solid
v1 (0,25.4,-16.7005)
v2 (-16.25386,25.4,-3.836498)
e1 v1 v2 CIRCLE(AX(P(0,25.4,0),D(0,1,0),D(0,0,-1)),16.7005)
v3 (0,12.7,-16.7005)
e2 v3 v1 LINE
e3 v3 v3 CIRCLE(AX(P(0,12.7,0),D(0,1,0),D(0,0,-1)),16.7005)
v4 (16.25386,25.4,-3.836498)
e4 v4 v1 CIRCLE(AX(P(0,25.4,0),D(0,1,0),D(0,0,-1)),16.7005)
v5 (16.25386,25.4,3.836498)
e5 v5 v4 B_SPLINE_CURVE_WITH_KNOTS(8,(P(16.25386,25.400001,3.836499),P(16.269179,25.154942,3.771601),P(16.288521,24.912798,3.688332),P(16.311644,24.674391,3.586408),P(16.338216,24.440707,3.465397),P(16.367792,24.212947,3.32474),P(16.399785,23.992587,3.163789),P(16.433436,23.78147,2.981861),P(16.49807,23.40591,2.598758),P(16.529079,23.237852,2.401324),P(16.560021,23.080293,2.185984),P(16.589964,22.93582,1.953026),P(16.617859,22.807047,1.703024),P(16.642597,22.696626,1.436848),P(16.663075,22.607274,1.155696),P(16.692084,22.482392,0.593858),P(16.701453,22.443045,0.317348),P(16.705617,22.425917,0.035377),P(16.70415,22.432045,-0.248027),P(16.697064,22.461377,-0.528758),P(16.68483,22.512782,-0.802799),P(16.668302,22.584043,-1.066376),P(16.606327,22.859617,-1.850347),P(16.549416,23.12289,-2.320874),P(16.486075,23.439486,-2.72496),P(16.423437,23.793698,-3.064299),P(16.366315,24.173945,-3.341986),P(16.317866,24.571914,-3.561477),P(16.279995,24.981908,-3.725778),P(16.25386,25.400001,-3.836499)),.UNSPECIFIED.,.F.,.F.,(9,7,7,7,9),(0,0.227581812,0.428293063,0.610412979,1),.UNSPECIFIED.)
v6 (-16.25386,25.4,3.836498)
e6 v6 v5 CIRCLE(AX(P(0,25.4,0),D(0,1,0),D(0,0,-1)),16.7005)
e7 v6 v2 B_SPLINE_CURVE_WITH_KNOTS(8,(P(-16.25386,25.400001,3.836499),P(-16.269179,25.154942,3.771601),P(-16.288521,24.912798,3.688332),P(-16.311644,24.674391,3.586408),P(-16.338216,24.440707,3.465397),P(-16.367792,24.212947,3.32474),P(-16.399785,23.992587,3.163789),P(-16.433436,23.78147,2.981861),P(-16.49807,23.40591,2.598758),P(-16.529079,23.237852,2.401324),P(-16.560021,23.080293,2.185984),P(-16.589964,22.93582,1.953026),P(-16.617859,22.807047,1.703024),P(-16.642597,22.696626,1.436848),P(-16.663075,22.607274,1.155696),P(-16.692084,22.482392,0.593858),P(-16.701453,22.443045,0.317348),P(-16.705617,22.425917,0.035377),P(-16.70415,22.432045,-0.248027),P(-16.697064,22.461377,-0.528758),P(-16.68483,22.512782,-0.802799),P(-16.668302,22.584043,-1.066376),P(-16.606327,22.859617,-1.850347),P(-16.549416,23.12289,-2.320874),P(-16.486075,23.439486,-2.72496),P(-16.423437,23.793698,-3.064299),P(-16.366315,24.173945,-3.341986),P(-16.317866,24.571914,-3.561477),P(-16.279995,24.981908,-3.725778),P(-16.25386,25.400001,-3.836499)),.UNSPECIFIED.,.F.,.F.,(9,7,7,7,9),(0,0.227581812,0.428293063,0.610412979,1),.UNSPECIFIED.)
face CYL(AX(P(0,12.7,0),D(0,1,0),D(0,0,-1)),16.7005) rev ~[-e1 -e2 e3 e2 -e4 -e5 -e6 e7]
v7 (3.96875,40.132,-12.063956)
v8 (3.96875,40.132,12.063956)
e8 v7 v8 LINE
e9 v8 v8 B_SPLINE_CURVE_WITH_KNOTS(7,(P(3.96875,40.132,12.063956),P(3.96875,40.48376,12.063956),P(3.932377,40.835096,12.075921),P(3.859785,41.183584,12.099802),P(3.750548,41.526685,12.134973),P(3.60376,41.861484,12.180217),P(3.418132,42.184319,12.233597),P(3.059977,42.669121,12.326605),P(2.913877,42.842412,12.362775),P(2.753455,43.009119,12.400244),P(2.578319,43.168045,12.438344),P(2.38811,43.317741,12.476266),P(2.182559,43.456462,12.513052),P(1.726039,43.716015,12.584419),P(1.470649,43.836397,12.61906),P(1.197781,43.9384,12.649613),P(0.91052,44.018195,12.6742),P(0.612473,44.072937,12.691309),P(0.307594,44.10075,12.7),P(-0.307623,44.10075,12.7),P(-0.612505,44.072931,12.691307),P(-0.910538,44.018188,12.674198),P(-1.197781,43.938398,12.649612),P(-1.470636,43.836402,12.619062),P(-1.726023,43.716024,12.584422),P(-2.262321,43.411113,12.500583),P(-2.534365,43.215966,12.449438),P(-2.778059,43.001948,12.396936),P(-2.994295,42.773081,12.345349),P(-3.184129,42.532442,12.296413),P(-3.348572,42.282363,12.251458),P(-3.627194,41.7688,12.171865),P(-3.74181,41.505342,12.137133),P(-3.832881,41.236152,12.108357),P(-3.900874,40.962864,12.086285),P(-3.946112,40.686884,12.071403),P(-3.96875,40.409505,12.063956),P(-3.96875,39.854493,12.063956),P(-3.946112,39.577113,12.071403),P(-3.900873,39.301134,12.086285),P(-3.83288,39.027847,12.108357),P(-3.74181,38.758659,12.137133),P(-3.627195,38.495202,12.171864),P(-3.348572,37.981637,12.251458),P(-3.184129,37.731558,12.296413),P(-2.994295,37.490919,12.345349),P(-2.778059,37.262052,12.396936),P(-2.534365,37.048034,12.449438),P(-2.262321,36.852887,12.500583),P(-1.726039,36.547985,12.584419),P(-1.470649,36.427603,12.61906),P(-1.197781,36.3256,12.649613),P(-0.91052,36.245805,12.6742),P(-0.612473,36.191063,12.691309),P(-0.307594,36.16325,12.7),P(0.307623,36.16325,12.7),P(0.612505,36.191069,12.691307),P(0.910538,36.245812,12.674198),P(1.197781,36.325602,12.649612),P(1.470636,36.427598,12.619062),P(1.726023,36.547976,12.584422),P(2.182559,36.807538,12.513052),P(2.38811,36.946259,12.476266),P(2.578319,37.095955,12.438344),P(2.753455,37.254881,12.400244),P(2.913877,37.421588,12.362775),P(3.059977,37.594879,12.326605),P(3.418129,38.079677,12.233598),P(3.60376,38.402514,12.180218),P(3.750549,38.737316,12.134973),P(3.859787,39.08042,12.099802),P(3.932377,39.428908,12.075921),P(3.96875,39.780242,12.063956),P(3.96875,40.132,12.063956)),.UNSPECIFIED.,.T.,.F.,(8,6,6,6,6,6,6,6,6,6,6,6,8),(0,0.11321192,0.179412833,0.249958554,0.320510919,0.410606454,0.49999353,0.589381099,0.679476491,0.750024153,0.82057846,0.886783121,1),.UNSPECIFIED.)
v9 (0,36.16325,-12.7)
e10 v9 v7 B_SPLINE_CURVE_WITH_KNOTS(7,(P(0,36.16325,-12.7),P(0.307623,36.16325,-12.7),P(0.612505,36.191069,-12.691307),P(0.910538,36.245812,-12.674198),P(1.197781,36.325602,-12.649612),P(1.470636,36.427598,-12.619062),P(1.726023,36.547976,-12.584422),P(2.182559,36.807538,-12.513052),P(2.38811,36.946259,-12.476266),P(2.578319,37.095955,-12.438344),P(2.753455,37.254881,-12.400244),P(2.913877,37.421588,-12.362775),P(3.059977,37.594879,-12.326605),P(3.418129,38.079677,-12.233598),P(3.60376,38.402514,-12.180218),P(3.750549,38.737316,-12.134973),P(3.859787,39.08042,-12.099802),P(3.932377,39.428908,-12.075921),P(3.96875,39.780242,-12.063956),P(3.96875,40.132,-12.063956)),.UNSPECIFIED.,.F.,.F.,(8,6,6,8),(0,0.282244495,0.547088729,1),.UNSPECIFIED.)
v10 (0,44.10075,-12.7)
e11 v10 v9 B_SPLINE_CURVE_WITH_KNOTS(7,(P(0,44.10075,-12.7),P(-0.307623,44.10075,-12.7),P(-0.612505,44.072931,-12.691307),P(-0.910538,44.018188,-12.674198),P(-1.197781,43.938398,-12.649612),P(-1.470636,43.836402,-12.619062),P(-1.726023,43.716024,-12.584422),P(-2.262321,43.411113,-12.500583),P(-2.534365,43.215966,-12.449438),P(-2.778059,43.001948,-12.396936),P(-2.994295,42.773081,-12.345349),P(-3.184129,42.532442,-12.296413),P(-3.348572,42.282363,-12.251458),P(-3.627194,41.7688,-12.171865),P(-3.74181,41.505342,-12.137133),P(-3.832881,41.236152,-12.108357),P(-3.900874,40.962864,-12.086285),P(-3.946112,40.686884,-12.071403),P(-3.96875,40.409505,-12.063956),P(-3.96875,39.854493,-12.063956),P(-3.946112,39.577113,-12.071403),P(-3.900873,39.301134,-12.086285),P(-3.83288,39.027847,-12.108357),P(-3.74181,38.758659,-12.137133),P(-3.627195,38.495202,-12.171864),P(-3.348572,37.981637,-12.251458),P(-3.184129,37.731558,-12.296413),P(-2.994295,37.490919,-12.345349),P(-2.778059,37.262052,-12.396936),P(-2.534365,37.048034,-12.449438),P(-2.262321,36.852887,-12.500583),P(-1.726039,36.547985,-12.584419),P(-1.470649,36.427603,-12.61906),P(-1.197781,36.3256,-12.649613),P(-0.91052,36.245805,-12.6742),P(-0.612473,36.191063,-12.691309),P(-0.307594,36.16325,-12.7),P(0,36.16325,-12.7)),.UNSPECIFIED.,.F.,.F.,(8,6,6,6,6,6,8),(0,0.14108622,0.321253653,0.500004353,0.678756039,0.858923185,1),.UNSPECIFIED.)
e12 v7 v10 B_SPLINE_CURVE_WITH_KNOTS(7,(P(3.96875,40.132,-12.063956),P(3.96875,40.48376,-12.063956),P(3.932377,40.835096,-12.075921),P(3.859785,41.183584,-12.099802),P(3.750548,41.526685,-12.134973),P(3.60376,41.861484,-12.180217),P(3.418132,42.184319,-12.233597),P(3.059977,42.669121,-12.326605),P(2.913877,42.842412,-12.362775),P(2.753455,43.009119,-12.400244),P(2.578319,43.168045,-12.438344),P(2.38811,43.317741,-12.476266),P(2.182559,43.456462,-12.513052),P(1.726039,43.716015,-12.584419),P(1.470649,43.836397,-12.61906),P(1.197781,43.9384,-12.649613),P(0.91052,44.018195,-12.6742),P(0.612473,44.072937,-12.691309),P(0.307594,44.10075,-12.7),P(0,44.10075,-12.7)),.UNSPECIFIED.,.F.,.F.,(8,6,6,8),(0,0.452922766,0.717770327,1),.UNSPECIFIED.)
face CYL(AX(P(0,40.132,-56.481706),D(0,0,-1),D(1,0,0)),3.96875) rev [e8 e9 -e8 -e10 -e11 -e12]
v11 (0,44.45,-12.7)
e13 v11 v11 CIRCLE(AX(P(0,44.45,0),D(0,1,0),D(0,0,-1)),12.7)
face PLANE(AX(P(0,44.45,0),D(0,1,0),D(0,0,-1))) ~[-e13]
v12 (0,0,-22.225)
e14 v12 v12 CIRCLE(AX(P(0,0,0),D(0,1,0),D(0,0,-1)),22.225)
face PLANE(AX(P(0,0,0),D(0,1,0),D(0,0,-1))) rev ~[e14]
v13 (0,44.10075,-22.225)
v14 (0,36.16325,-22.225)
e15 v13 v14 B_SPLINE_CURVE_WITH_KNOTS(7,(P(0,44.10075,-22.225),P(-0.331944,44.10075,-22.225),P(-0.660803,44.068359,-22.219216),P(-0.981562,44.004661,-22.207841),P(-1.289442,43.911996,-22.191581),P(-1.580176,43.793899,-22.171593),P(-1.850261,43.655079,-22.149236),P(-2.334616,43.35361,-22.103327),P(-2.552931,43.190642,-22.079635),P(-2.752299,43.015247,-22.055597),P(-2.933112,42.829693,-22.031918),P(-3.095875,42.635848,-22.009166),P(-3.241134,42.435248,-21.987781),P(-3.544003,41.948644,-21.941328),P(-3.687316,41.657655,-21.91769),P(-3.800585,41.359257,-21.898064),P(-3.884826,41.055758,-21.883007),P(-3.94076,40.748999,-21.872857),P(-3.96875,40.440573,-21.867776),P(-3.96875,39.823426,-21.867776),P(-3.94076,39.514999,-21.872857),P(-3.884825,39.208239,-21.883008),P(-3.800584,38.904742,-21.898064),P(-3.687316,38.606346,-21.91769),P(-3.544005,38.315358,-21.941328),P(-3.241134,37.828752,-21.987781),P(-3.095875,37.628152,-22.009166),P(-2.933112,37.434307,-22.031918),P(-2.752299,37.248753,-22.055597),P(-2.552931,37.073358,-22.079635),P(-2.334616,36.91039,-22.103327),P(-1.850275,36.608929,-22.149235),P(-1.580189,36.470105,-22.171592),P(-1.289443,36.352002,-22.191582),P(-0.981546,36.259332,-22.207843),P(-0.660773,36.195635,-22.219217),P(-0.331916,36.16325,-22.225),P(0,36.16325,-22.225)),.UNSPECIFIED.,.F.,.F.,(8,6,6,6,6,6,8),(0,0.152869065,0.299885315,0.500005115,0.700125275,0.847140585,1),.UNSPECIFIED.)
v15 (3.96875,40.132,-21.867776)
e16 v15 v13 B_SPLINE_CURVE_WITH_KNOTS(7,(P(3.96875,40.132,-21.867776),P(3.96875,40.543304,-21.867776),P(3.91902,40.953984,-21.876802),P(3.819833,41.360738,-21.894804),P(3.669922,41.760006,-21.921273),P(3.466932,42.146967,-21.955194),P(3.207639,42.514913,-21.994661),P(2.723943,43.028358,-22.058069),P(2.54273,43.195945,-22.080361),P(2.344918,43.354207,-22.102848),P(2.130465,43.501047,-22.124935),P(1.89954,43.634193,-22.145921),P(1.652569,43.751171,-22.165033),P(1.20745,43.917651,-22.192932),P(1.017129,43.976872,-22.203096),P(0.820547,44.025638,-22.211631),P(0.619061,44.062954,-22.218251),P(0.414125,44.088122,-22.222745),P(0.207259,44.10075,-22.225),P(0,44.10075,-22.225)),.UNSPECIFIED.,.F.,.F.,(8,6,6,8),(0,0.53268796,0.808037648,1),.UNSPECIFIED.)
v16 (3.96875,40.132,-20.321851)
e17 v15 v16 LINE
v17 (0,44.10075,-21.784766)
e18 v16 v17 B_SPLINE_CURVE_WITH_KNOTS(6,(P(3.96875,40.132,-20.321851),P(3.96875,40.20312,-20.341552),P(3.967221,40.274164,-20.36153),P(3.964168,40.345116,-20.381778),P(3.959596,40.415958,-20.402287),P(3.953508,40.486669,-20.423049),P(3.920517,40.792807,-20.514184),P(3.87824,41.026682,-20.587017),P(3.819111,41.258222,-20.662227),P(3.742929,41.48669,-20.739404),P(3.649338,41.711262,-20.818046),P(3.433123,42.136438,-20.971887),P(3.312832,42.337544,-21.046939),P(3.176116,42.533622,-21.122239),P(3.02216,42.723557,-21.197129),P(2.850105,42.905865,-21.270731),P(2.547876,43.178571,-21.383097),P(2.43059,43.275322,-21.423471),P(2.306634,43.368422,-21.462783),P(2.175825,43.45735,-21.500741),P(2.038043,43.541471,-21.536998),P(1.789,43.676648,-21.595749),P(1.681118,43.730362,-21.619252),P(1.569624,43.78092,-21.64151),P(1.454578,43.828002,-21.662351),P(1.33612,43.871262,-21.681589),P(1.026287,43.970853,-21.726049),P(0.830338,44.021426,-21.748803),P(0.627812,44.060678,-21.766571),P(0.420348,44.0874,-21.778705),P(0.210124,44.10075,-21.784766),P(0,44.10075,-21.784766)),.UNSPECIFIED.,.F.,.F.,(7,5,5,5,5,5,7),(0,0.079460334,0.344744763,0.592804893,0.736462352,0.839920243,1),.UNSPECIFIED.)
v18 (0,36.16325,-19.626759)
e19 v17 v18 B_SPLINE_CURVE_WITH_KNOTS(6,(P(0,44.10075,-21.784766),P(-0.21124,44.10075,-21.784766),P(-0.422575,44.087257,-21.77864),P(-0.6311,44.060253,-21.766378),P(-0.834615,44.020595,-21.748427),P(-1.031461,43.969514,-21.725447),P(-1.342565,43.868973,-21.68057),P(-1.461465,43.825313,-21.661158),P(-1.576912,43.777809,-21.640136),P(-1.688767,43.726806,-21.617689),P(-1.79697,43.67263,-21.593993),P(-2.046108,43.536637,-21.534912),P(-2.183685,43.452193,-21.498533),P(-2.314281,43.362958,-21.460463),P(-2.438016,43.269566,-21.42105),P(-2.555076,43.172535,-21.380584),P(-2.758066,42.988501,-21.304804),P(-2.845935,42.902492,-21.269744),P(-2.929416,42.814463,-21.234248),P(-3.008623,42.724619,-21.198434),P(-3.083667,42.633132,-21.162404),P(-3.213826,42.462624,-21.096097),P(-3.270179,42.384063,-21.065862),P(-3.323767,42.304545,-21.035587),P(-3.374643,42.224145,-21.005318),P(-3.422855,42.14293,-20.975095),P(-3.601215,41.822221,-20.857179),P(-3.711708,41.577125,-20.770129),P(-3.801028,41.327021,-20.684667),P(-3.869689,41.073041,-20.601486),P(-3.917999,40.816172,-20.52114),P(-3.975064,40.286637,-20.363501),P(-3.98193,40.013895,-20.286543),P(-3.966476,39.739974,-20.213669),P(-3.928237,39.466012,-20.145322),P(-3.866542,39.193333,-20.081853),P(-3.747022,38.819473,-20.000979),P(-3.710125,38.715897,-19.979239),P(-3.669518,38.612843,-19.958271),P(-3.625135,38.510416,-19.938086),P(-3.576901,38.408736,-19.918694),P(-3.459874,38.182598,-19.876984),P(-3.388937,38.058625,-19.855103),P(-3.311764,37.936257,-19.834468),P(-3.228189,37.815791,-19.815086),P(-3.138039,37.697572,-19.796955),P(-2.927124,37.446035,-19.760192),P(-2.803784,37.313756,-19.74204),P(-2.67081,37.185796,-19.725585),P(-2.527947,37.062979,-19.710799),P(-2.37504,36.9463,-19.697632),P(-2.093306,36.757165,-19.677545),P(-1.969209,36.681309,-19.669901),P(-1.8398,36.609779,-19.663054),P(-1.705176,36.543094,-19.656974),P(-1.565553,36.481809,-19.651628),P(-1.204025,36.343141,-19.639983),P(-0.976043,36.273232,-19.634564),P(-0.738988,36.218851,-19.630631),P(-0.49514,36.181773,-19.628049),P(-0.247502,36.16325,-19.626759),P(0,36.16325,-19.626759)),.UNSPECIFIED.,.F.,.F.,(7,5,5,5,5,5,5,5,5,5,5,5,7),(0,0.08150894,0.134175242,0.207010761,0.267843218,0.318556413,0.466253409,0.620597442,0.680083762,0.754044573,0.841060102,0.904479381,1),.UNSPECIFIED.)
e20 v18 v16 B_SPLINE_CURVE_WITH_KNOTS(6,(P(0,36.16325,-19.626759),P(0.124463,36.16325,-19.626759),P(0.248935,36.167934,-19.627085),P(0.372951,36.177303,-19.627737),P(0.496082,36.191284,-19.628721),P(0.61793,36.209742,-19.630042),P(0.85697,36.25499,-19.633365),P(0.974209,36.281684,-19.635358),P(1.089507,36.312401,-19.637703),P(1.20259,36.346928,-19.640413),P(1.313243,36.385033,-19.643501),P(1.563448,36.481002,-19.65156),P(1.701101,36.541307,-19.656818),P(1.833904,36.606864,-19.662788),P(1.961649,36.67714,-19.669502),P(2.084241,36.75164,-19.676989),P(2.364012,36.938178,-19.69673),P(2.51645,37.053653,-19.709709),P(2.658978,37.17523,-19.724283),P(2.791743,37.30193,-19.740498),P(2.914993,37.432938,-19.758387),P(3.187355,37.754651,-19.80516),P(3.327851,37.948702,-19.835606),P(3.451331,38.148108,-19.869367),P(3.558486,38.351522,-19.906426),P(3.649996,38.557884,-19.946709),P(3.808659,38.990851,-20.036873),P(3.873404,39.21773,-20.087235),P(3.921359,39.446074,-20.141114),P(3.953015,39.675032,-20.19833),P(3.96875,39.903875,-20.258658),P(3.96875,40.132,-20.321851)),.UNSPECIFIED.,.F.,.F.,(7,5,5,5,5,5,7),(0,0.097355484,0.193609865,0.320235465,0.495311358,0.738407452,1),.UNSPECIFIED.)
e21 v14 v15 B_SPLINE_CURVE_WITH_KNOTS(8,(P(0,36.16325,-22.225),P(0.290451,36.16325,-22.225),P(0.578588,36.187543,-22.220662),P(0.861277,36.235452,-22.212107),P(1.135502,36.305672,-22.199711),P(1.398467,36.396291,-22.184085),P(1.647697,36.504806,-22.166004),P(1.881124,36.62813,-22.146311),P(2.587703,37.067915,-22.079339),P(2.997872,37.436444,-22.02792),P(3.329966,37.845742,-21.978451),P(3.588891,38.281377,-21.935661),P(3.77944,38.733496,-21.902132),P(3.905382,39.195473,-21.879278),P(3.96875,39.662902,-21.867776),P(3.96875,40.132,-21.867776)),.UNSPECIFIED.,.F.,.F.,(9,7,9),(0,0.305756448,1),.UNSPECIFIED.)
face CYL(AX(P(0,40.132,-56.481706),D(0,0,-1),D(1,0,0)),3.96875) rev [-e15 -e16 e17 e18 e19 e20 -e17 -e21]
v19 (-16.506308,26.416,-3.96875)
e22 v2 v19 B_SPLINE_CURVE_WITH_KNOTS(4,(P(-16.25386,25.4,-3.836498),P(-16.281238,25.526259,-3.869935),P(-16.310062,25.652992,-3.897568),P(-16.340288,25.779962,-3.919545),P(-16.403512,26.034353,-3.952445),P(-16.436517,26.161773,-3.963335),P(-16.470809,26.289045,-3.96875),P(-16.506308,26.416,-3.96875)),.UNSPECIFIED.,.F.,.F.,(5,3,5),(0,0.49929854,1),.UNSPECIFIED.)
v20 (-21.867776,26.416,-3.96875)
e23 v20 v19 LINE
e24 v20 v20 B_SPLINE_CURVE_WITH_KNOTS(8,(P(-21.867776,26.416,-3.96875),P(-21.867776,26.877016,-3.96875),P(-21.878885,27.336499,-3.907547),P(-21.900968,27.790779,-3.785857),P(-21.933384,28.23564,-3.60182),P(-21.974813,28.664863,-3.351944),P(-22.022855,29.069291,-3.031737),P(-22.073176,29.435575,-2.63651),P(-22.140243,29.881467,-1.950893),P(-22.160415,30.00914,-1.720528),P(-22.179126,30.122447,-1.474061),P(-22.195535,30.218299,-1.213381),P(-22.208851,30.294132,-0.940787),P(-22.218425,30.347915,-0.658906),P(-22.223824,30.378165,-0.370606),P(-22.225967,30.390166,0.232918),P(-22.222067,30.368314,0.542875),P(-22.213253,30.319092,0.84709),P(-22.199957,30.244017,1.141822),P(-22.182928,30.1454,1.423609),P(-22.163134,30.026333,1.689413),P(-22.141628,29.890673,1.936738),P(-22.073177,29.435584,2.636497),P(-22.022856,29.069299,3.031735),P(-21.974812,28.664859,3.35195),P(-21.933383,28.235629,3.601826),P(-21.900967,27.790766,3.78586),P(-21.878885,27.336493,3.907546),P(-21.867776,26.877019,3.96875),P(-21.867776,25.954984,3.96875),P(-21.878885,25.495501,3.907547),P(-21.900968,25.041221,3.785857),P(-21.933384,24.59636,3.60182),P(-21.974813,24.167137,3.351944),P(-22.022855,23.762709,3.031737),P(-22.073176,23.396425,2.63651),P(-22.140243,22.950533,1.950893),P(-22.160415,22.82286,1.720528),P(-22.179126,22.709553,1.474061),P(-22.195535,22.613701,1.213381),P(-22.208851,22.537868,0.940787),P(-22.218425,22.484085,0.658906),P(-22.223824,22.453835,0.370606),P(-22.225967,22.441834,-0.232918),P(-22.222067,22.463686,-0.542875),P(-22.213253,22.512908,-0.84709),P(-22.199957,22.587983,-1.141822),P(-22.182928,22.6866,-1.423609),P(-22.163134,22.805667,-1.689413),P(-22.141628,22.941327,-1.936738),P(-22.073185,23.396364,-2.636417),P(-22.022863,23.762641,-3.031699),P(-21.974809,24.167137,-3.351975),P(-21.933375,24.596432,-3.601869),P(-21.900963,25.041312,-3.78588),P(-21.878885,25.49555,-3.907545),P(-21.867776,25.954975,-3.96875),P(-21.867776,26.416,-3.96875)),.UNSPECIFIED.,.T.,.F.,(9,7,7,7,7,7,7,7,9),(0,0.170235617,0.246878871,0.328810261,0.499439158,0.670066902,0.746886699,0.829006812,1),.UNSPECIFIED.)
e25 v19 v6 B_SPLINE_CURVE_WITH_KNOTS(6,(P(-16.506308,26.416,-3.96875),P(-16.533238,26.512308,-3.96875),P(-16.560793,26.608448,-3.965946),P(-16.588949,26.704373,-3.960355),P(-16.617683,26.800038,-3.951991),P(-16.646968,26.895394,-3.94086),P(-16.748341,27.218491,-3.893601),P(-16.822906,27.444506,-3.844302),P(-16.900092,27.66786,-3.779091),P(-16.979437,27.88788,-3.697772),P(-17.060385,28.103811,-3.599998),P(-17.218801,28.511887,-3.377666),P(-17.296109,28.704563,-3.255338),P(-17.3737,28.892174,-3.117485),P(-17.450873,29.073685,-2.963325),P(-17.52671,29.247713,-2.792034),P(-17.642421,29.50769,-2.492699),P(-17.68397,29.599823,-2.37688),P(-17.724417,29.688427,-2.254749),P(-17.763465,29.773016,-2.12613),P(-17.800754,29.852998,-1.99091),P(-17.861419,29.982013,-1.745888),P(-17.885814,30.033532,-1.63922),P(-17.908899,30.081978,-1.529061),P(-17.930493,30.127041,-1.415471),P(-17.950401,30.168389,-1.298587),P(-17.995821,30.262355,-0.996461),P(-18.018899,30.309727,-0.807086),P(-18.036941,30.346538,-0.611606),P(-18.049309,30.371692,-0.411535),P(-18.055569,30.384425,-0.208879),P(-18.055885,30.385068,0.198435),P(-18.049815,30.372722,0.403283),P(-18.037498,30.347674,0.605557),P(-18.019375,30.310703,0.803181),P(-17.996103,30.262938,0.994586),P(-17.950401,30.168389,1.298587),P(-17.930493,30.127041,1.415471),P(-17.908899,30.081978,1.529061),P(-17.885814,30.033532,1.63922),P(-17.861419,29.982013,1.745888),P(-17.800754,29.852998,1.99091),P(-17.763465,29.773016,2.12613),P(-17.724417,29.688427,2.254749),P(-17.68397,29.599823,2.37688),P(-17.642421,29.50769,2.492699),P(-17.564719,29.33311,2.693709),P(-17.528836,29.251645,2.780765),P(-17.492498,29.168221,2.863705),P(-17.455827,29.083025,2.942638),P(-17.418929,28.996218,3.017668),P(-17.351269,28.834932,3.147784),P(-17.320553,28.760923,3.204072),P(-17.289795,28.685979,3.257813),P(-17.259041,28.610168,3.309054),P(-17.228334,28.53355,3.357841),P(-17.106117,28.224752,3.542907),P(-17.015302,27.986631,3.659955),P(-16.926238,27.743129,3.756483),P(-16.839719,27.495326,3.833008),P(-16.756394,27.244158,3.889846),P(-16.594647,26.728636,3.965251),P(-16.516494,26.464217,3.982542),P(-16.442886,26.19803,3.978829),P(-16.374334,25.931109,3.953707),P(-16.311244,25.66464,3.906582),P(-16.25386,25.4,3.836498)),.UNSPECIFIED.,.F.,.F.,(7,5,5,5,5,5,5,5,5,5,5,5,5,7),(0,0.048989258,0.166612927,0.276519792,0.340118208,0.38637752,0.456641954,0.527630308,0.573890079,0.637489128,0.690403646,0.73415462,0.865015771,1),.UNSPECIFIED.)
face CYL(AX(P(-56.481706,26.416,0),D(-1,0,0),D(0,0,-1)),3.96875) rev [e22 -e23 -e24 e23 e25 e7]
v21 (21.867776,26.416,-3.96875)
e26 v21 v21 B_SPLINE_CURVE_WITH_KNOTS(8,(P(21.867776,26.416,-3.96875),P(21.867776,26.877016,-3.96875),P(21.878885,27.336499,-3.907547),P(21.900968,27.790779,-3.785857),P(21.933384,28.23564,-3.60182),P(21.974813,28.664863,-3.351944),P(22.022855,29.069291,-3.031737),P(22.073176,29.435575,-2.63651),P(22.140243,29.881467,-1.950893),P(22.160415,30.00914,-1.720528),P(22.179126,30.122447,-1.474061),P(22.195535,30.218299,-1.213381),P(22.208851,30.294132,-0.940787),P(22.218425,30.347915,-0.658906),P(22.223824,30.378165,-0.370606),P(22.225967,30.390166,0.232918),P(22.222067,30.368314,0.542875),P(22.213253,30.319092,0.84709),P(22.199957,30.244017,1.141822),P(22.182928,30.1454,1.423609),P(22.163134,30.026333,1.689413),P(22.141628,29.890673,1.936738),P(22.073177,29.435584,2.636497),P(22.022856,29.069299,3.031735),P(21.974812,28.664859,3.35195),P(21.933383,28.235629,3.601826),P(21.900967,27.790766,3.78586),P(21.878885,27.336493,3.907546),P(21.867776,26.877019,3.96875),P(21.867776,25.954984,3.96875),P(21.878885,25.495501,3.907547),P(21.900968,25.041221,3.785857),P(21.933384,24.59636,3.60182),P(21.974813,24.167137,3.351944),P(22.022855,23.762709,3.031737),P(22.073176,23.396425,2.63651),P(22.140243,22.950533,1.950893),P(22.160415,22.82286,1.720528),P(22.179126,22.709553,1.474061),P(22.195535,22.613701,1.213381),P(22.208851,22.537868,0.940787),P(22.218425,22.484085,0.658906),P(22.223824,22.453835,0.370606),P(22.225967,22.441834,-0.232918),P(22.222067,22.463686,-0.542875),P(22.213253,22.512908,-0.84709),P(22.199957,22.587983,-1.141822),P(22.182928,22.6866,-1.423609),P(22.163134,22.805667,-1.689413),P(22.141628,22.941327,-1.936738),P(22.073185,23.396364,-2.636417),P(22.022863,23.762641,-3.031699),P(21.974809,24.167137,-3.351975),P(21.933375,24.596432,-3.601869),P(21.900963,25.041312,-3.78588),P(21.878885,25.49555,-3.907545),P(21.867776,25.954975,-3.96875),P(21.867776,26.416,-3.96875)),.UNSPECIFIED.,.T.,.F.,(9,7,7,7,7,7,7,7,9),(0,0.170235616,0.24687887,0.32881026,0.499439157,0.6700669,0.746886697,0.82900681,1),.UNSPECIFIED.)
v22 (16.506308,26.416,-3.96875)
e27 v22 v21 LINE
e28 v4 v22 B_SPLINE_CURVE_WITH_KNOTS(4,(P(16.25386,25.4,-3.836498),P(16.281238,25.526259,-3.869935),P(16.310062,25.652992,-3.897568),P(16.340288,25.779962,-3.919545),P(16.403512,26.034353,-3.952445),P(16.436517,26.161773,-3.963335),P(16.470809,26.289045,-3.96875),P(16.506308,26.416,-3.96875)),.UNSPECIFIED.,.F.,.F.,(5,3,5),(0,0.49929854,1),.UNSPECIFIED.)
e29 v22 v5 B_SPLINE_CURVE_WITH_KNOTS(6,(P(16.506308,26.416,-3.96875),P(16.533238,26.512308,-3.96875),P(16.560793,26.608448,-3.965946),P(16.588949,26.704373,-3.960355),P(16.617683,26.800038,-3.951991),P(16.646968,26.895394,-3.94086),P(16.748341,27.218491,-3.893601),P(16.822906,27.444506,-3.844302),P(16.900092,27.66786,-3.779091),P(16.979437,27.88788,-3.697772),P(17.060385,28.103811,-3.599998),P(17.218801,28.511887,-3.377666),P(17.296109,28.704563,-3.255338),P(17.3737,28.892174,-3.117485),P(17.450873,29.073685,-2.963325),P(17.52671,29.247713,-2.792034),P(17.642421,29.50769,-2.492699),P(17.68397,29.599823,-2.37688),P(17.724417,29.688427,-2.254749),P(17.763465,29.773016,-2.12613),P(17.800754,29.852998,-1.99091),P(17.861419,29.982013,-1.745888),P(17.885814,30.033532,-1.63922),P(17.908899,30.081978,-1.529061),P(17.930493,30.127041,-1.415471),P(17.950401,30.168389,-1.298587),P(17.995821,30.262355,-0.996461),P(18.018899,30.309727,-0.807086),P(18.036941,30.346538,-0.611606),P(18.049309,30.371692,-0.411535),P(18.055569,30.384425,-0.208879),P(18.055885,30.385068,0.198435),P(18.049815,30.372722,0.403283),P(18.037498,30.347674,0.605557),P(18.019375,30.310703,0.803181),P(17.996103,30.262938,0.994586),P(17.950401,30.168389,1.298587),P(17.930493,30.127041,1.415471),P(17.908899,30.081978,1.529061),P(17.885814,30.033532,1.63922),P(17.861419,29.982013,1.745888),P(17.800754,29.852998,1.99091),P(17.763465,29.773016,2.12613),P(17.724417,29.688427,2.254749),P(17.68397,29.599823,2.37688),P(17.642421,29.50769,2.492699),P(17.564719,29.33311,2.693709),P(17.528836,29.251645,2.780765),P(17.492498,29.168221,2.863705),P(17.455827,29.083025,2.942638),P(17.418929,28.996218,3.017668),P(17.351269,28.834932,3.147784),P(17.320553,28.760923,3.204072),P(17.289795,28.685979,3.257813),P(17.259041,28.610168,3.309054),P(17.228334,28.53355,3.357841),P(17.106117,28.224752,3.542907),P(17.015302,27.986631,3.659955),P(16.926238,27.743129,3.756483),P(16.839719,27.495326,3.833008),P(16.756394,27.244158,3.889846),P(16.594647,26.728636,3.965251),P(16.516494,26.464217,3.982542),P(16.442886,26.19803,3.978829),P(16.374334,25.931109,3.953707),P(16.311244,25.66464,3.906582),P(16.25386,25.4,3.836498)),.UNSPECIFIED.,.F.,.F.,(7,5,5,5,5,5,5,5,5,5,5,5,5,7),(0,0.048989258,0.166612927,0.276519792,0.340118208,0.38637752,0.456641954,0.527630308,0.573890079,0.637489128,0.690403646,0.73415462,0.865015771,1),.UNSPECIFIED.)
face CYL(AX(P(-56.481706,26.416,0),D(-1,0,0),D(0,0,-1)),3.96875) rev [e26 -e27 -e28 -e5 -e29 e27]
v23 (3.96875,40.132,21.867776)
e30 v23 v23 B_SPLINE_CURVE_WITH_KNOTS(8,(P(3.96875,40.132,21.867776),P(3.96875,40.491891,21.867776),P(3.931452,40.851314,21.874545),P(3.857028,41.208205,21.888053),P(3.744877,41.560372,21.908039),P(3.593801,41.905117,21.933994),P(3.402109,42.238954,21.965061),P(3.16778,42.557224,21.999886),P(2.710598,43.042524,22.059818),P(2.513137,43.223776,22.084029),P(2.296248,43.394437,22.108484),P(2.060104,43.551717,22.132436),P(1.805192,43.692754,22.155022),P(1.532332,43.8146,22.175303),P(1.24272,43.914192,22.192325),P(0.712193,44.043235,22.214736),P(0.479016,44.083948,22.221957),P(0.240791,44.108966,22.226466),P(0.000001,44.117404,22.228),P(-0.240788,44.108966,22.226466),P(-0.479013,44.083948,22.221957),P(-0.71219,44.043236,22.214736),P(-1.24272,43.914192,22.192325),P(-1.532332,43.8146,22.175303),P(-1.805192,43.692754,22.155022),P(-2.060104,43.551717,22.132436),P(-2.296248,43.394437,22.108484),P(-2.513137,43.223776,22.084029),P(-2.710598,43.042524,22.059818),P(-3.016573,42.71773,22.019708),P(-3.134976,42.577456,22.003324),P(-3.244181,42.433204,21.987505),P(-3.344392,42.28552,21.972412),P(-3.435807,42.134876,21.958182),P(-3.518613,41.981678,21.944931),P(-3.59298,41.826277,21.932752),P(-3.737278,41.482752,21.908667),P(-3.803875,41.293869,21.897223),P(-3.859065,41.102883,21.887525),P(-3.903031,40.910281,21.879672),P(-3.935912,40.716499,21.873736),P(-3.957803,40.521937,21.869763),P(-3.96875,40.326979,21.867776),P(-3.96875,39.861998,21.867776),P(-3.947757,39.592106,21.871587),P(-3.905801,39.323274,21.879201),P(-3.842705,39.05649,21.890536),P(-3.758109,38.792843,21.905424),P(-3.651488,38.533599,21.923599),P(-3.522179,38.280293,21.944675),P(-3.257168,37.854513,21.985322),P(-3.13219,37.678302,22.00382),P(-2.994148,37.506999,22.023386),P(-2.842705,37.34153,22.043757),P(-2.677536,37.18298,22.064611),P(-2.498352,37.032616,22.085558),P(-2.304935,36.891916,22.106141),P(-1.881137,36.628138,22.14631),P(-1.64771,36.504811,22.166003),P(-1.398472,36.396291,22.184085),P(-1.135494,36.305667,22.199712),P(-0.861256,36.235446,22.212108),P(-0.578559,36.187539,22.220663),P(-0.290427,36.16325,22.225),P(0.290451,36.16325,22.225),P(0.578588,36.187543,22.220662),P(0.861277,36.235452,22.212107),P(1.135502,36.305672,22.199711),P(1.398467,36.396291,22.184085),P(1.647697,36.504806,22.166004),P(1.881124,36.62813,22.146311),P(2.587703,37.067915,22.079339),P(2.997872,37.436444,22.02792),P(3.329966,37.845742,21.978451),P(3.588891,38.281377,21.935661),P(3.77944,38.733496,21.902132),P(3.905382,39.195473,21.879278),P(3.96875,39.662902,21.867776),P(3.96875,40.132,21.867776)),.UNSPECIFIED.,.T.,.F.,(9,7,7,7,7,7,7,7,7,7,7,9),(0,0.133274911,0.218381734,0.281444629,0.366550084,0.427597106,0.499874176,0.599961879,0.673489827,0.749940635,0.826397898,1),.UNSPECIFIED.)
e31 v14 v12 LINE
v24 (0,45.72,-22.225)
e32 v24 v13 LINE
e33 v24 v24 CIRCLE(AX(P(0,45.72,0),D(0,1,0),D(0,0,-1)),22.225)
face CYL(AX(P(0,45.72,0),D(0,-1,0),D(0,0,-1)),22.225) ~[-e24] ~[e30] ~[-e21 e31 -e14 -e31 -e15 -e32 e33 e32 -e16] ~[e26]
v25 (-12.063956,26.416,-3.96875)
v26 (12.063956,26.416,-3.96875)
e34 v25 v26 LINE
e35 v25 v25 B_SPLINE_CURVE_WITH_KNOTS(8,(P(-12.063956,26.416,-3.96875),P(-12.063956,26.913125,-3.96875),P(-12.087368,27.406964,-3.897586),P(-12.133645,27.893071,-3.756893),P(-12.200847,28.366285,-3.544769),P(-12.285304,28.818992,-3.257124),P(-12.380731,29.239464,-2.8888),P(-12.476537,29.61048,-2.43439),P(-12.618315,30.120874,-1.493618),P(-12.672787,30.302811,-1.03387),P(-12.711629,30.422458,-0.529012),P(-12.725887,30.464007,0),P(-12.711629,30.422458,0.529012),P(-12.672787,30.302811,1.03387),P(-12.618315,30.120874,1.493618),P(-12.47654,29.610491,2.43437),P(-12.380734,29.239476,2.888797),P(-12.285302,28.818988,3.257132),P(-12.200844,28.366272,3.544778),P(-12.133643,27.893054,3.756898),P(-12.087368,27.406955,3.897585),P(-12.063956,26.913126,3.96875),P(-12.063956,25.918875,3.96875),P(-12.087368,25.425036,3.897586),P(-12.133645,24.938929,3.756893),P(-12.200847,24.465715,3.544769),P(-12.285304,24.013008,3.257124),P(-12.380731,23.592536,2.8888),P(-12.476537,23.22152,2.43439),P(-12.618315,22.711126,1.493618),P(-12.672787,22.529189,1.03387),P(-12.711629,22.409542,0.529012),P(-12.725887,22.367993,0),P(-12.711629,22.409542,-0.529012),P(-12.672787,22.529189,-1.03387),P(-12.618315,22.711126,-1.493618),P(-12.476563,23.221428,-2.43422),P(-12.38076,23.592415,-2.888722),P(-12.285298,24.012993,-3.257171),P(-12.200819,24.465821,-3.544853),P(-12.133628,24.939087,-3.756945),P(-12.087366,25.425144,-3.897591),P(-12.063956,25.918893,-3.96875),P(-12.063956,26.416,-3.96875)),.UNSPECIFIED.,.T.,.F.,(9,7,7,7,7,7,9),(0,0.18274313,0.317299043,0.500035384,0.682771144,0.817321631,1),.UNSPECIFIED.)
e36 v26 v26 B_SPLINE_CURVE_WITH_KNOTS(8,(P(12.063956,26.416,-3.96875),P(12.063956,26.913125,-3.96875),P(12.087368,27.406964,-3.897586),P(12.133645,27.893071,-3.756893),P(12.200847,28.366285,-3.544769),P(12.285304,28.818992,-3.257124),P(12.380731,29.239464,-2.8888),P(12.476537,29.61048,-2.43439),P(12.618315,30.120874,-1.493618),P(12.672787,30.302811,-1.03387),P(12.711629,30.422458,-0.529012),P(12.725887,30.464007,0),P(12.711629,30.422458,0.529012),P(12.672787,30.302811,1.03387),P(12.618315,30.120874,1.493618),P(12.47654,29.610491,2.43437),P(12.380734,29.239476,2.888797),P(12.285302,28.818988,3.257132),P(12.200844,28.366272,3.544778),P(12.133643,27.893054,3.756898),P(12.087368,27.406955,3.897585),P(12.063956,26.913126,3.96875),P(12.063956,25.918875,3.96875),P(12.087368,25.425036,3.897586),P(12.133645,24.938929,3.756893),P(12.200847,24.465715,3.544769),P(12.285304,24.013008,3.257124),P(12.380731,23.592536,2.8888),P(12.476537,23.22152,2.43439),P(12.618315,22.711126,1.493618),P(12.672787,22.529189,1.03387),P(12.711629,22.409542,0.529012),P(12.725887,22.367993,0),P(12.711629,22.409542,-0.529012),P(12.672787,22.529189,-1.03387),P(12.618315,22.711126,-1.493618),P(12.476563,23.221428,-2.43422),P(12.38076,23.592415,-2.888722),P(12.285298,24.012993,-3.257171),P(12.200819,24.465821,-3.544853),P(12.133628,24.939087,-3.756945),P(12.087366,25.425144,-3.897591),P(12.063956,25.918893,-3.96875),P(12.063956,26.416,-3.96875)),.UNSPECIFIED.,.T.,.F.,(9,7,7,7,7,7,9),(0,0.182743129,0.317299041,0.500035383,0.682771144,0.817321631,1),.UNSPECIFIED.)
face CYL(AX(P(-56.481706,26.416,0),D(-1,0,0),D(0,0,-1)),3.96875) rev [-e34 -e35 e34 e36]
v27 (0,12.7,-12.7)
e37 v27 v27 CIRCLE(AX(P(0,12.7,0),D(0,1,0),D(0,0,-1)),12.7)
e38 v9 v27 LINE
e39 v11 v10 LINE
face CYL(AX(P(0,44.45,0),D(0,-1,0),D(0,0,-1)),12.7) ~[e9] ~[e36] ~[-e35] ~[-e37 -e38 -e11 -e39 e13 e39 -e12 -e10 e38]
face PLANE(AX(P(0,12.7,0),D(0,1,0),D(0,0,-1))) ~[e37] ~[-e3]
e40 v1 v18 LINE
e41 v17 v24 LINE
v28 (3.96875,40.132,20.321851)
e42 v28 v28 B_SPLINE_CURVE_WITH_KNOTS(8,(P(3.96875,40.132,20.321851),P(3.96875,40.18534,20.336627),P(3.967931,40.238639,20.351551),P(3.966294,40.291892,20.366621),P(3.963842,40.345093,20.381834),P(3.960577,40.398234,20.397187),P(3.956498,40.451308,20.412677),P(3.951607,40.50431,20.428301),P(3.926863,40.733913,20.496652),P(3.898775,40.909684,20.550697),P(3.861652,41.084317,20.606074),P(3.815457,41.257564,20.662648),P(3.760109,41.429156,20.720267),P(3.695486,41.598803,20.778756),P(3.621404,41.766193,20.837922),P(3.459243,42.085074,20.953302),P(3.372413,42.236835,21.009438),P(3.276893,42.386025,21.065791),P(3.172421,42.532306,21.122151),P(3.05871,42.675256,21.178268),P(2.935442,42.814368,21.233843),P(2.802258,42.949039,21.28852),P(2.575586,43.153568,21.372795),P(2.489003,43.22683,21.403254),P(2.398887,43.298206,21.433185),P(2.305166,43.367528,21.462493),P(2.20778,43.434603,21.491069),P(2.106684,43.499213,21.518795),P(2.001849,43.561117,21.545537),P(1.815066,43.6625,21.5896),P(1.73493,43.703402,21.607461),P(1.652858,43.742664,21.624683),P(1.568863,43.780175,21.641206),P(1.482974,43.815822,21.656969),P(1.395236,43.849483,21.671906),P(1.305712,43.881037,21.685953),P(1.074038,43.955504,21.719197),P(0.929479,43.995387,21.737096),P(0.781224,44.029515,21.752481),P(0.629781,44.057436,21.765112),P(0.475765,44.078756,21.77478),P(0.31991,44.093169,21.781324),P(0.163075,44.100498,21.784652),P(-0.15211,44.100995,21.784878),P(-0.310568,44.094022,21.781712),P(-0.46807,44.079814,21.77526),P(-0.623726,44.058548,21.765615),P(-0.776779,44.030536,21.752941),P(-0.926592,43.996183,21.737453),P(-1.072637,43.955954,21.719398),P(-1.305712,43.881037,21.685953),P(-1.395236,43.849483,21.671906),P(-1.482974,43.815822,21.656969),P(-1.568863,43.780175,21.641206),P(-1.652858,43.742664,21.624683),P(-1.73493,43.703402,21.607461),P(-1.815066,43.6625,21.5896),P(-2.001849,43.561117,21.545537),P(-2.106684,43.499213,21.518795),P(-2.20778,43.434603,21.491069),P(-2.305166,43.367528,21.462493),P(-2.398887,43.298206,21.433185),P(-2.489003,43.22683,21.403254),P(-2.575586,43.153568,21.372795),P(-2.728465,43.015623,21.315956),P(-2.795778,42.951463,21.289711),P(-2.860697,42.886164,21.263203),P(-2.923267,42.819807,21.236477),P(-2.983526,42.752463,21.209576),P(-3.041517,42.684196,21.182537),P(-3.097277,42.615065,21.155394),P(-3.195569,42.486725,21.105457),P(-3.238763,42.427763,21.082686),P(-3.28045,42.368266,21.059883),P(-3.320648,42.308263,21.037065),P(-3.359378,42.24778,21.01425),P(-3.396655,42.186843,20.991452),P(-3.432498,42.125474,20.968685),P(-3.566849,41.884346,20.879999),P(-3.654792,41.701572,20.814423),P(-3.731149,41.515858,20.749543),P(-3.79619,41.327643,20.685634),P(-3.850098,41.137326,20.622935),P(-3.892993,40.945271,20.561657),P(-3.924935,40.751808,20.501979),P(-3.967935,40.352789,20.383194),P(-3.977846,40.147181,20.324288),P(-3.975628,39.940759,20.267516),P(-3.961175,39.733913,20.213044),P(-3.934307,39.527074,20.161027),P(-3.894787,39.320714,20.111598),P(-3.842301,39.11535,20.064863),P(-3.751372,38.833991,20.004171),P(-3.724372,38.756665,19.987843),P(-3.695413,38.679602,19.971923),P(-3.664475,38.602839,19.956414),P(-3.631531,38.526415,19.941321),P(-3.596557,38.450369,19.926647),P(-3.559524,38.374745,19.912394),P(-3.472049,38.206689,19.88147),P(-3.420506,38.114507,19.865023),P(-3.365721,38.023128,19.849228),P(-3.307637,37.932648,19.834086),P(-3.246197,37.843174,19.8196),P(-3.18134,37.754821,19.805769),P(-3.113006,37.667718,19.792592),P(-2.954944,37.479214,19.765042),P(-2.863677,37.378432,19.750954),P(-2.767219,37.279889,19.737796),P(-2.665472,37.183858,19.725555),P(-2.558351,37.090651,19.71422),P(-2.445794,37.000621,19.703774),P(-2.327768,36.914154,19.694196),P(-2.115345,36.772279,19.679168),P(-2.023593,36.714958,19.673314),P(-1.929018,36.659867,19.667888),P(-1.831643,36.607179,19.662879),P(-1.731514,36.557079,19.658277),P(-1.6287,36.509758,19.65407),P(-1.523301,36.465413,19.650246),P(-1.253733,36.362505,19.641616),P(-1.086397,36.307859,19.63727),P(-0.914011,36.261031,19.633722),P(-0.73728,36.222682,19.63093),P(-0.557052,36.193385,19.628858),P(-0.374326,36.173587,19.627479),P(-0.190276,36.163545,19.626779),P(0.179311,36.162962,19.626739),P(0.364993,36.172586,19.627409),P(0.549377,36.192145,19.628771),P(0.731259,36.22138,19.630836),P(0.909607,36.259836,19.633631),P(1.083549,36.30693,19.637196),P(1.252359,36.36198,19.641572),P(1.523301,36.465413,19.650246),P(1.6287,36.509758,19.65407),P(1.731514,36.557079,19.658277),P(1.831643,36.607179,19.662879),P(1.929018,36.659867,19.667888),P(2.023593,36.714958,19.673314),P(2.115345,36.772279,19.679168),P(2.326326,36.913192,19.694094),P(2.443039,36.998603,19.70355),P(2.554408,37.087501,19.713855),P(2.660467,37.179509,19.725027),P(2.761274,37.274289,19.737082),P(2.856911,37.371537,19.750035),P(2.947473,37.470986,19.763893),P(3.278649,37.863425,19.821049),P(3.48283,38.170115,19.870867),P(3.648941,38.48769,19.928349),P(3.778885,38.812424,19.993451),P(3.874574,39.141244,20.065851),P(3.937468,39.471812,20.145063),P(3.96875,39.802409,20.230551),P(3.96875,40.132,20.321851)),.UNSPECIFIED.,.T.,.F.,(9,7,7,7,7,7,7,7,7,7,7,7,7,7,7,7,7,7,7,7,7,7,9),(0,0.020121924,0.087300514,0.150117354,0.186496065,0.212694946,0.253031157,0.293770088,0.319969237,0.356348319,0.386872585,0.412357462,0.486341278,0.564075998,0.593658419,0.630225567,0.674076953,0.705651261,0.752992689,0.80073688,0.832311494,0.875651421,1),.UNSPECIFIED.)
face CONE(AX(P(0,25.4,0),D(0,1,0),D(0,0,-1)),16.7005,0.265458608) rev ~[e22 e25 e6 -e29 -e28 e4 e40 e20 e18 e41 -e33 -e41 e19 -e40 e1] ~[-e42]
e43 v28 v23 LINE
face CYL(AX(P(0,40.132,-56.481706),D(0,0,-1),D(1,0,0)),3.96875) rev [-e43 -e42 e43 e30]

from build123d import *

# Parameters (mm, degrees)
CUT_EXTRUDE1_DEPTH      = 56.481705543
CUT_EXTRUDE1_DEPTH_BACK = 56.481705543
SKETCH2_R               = 3.96875
CUT_EXTRUDE2_DEPTH      = 56.481705706
CUT_EXTRUDE2_DEPTH_BACK = 56.481705706
SKETCH4_R               = 3.96875


with BuildPart() as part:
    # Sketch1 → Revolve1 (revolve)
    with BuildSketch(Plane.YZ, mode=Mode.PRIVATE) as revolve1_sk:
        Polygon((0, 0), (44.45, 0), (44.45, 12.7), (12.7, 12.7), (12.7, 16.7005), (25.4, 16.7005), (45.72, 22.225), (0, 22.225), align=None)
    revolve(revolve1_sk.sketch.rotate(Axis((0, 0, 0), (0, 1, 0)), 180), axis=Axis((0, 0, 0), (0, 1, 0)))

    # Sketch2 → Cut-Extrude1 (cut, two sides: drawn at the far end of the back side and taken through both)
    with BuildSketch(Plane(origin=(0, 0, 0), x_dir=(0, 1, 0), z_dir=(0, 0, 1)).offset(-CUT_EXTRUDE1_DEPTH_BACK)):
        with Locations(Location((40.132, 0, 0), (0, 0, 270))):
            Circle(SKETCH2_R)
    extrude(amount=CUT_EXTRUDE1_DEPTH + CUT_EXTRUDE1_DEPTH_BACK, mode=Mode.SUBTRACT)

    # Sketch4 → Cut-Extrude2 (cut, two sides: drawn at the far end of the back side and taken through both)
    with BuildSketch(Plane.YZ.offset(-CUT_EXTRUDE2_DEPTH_BACK)):
        with Locations(Location((26.416, 0, 0), (0, 0, 270))):
            Circle(SKETCH4_R)
    extrude(amount=CUT_EXTRUDE2_DEPTH + CUT_EXTRUDE2_DEPTH_BACK, mode=Mode.SUBTRACT)


solid = part.part
